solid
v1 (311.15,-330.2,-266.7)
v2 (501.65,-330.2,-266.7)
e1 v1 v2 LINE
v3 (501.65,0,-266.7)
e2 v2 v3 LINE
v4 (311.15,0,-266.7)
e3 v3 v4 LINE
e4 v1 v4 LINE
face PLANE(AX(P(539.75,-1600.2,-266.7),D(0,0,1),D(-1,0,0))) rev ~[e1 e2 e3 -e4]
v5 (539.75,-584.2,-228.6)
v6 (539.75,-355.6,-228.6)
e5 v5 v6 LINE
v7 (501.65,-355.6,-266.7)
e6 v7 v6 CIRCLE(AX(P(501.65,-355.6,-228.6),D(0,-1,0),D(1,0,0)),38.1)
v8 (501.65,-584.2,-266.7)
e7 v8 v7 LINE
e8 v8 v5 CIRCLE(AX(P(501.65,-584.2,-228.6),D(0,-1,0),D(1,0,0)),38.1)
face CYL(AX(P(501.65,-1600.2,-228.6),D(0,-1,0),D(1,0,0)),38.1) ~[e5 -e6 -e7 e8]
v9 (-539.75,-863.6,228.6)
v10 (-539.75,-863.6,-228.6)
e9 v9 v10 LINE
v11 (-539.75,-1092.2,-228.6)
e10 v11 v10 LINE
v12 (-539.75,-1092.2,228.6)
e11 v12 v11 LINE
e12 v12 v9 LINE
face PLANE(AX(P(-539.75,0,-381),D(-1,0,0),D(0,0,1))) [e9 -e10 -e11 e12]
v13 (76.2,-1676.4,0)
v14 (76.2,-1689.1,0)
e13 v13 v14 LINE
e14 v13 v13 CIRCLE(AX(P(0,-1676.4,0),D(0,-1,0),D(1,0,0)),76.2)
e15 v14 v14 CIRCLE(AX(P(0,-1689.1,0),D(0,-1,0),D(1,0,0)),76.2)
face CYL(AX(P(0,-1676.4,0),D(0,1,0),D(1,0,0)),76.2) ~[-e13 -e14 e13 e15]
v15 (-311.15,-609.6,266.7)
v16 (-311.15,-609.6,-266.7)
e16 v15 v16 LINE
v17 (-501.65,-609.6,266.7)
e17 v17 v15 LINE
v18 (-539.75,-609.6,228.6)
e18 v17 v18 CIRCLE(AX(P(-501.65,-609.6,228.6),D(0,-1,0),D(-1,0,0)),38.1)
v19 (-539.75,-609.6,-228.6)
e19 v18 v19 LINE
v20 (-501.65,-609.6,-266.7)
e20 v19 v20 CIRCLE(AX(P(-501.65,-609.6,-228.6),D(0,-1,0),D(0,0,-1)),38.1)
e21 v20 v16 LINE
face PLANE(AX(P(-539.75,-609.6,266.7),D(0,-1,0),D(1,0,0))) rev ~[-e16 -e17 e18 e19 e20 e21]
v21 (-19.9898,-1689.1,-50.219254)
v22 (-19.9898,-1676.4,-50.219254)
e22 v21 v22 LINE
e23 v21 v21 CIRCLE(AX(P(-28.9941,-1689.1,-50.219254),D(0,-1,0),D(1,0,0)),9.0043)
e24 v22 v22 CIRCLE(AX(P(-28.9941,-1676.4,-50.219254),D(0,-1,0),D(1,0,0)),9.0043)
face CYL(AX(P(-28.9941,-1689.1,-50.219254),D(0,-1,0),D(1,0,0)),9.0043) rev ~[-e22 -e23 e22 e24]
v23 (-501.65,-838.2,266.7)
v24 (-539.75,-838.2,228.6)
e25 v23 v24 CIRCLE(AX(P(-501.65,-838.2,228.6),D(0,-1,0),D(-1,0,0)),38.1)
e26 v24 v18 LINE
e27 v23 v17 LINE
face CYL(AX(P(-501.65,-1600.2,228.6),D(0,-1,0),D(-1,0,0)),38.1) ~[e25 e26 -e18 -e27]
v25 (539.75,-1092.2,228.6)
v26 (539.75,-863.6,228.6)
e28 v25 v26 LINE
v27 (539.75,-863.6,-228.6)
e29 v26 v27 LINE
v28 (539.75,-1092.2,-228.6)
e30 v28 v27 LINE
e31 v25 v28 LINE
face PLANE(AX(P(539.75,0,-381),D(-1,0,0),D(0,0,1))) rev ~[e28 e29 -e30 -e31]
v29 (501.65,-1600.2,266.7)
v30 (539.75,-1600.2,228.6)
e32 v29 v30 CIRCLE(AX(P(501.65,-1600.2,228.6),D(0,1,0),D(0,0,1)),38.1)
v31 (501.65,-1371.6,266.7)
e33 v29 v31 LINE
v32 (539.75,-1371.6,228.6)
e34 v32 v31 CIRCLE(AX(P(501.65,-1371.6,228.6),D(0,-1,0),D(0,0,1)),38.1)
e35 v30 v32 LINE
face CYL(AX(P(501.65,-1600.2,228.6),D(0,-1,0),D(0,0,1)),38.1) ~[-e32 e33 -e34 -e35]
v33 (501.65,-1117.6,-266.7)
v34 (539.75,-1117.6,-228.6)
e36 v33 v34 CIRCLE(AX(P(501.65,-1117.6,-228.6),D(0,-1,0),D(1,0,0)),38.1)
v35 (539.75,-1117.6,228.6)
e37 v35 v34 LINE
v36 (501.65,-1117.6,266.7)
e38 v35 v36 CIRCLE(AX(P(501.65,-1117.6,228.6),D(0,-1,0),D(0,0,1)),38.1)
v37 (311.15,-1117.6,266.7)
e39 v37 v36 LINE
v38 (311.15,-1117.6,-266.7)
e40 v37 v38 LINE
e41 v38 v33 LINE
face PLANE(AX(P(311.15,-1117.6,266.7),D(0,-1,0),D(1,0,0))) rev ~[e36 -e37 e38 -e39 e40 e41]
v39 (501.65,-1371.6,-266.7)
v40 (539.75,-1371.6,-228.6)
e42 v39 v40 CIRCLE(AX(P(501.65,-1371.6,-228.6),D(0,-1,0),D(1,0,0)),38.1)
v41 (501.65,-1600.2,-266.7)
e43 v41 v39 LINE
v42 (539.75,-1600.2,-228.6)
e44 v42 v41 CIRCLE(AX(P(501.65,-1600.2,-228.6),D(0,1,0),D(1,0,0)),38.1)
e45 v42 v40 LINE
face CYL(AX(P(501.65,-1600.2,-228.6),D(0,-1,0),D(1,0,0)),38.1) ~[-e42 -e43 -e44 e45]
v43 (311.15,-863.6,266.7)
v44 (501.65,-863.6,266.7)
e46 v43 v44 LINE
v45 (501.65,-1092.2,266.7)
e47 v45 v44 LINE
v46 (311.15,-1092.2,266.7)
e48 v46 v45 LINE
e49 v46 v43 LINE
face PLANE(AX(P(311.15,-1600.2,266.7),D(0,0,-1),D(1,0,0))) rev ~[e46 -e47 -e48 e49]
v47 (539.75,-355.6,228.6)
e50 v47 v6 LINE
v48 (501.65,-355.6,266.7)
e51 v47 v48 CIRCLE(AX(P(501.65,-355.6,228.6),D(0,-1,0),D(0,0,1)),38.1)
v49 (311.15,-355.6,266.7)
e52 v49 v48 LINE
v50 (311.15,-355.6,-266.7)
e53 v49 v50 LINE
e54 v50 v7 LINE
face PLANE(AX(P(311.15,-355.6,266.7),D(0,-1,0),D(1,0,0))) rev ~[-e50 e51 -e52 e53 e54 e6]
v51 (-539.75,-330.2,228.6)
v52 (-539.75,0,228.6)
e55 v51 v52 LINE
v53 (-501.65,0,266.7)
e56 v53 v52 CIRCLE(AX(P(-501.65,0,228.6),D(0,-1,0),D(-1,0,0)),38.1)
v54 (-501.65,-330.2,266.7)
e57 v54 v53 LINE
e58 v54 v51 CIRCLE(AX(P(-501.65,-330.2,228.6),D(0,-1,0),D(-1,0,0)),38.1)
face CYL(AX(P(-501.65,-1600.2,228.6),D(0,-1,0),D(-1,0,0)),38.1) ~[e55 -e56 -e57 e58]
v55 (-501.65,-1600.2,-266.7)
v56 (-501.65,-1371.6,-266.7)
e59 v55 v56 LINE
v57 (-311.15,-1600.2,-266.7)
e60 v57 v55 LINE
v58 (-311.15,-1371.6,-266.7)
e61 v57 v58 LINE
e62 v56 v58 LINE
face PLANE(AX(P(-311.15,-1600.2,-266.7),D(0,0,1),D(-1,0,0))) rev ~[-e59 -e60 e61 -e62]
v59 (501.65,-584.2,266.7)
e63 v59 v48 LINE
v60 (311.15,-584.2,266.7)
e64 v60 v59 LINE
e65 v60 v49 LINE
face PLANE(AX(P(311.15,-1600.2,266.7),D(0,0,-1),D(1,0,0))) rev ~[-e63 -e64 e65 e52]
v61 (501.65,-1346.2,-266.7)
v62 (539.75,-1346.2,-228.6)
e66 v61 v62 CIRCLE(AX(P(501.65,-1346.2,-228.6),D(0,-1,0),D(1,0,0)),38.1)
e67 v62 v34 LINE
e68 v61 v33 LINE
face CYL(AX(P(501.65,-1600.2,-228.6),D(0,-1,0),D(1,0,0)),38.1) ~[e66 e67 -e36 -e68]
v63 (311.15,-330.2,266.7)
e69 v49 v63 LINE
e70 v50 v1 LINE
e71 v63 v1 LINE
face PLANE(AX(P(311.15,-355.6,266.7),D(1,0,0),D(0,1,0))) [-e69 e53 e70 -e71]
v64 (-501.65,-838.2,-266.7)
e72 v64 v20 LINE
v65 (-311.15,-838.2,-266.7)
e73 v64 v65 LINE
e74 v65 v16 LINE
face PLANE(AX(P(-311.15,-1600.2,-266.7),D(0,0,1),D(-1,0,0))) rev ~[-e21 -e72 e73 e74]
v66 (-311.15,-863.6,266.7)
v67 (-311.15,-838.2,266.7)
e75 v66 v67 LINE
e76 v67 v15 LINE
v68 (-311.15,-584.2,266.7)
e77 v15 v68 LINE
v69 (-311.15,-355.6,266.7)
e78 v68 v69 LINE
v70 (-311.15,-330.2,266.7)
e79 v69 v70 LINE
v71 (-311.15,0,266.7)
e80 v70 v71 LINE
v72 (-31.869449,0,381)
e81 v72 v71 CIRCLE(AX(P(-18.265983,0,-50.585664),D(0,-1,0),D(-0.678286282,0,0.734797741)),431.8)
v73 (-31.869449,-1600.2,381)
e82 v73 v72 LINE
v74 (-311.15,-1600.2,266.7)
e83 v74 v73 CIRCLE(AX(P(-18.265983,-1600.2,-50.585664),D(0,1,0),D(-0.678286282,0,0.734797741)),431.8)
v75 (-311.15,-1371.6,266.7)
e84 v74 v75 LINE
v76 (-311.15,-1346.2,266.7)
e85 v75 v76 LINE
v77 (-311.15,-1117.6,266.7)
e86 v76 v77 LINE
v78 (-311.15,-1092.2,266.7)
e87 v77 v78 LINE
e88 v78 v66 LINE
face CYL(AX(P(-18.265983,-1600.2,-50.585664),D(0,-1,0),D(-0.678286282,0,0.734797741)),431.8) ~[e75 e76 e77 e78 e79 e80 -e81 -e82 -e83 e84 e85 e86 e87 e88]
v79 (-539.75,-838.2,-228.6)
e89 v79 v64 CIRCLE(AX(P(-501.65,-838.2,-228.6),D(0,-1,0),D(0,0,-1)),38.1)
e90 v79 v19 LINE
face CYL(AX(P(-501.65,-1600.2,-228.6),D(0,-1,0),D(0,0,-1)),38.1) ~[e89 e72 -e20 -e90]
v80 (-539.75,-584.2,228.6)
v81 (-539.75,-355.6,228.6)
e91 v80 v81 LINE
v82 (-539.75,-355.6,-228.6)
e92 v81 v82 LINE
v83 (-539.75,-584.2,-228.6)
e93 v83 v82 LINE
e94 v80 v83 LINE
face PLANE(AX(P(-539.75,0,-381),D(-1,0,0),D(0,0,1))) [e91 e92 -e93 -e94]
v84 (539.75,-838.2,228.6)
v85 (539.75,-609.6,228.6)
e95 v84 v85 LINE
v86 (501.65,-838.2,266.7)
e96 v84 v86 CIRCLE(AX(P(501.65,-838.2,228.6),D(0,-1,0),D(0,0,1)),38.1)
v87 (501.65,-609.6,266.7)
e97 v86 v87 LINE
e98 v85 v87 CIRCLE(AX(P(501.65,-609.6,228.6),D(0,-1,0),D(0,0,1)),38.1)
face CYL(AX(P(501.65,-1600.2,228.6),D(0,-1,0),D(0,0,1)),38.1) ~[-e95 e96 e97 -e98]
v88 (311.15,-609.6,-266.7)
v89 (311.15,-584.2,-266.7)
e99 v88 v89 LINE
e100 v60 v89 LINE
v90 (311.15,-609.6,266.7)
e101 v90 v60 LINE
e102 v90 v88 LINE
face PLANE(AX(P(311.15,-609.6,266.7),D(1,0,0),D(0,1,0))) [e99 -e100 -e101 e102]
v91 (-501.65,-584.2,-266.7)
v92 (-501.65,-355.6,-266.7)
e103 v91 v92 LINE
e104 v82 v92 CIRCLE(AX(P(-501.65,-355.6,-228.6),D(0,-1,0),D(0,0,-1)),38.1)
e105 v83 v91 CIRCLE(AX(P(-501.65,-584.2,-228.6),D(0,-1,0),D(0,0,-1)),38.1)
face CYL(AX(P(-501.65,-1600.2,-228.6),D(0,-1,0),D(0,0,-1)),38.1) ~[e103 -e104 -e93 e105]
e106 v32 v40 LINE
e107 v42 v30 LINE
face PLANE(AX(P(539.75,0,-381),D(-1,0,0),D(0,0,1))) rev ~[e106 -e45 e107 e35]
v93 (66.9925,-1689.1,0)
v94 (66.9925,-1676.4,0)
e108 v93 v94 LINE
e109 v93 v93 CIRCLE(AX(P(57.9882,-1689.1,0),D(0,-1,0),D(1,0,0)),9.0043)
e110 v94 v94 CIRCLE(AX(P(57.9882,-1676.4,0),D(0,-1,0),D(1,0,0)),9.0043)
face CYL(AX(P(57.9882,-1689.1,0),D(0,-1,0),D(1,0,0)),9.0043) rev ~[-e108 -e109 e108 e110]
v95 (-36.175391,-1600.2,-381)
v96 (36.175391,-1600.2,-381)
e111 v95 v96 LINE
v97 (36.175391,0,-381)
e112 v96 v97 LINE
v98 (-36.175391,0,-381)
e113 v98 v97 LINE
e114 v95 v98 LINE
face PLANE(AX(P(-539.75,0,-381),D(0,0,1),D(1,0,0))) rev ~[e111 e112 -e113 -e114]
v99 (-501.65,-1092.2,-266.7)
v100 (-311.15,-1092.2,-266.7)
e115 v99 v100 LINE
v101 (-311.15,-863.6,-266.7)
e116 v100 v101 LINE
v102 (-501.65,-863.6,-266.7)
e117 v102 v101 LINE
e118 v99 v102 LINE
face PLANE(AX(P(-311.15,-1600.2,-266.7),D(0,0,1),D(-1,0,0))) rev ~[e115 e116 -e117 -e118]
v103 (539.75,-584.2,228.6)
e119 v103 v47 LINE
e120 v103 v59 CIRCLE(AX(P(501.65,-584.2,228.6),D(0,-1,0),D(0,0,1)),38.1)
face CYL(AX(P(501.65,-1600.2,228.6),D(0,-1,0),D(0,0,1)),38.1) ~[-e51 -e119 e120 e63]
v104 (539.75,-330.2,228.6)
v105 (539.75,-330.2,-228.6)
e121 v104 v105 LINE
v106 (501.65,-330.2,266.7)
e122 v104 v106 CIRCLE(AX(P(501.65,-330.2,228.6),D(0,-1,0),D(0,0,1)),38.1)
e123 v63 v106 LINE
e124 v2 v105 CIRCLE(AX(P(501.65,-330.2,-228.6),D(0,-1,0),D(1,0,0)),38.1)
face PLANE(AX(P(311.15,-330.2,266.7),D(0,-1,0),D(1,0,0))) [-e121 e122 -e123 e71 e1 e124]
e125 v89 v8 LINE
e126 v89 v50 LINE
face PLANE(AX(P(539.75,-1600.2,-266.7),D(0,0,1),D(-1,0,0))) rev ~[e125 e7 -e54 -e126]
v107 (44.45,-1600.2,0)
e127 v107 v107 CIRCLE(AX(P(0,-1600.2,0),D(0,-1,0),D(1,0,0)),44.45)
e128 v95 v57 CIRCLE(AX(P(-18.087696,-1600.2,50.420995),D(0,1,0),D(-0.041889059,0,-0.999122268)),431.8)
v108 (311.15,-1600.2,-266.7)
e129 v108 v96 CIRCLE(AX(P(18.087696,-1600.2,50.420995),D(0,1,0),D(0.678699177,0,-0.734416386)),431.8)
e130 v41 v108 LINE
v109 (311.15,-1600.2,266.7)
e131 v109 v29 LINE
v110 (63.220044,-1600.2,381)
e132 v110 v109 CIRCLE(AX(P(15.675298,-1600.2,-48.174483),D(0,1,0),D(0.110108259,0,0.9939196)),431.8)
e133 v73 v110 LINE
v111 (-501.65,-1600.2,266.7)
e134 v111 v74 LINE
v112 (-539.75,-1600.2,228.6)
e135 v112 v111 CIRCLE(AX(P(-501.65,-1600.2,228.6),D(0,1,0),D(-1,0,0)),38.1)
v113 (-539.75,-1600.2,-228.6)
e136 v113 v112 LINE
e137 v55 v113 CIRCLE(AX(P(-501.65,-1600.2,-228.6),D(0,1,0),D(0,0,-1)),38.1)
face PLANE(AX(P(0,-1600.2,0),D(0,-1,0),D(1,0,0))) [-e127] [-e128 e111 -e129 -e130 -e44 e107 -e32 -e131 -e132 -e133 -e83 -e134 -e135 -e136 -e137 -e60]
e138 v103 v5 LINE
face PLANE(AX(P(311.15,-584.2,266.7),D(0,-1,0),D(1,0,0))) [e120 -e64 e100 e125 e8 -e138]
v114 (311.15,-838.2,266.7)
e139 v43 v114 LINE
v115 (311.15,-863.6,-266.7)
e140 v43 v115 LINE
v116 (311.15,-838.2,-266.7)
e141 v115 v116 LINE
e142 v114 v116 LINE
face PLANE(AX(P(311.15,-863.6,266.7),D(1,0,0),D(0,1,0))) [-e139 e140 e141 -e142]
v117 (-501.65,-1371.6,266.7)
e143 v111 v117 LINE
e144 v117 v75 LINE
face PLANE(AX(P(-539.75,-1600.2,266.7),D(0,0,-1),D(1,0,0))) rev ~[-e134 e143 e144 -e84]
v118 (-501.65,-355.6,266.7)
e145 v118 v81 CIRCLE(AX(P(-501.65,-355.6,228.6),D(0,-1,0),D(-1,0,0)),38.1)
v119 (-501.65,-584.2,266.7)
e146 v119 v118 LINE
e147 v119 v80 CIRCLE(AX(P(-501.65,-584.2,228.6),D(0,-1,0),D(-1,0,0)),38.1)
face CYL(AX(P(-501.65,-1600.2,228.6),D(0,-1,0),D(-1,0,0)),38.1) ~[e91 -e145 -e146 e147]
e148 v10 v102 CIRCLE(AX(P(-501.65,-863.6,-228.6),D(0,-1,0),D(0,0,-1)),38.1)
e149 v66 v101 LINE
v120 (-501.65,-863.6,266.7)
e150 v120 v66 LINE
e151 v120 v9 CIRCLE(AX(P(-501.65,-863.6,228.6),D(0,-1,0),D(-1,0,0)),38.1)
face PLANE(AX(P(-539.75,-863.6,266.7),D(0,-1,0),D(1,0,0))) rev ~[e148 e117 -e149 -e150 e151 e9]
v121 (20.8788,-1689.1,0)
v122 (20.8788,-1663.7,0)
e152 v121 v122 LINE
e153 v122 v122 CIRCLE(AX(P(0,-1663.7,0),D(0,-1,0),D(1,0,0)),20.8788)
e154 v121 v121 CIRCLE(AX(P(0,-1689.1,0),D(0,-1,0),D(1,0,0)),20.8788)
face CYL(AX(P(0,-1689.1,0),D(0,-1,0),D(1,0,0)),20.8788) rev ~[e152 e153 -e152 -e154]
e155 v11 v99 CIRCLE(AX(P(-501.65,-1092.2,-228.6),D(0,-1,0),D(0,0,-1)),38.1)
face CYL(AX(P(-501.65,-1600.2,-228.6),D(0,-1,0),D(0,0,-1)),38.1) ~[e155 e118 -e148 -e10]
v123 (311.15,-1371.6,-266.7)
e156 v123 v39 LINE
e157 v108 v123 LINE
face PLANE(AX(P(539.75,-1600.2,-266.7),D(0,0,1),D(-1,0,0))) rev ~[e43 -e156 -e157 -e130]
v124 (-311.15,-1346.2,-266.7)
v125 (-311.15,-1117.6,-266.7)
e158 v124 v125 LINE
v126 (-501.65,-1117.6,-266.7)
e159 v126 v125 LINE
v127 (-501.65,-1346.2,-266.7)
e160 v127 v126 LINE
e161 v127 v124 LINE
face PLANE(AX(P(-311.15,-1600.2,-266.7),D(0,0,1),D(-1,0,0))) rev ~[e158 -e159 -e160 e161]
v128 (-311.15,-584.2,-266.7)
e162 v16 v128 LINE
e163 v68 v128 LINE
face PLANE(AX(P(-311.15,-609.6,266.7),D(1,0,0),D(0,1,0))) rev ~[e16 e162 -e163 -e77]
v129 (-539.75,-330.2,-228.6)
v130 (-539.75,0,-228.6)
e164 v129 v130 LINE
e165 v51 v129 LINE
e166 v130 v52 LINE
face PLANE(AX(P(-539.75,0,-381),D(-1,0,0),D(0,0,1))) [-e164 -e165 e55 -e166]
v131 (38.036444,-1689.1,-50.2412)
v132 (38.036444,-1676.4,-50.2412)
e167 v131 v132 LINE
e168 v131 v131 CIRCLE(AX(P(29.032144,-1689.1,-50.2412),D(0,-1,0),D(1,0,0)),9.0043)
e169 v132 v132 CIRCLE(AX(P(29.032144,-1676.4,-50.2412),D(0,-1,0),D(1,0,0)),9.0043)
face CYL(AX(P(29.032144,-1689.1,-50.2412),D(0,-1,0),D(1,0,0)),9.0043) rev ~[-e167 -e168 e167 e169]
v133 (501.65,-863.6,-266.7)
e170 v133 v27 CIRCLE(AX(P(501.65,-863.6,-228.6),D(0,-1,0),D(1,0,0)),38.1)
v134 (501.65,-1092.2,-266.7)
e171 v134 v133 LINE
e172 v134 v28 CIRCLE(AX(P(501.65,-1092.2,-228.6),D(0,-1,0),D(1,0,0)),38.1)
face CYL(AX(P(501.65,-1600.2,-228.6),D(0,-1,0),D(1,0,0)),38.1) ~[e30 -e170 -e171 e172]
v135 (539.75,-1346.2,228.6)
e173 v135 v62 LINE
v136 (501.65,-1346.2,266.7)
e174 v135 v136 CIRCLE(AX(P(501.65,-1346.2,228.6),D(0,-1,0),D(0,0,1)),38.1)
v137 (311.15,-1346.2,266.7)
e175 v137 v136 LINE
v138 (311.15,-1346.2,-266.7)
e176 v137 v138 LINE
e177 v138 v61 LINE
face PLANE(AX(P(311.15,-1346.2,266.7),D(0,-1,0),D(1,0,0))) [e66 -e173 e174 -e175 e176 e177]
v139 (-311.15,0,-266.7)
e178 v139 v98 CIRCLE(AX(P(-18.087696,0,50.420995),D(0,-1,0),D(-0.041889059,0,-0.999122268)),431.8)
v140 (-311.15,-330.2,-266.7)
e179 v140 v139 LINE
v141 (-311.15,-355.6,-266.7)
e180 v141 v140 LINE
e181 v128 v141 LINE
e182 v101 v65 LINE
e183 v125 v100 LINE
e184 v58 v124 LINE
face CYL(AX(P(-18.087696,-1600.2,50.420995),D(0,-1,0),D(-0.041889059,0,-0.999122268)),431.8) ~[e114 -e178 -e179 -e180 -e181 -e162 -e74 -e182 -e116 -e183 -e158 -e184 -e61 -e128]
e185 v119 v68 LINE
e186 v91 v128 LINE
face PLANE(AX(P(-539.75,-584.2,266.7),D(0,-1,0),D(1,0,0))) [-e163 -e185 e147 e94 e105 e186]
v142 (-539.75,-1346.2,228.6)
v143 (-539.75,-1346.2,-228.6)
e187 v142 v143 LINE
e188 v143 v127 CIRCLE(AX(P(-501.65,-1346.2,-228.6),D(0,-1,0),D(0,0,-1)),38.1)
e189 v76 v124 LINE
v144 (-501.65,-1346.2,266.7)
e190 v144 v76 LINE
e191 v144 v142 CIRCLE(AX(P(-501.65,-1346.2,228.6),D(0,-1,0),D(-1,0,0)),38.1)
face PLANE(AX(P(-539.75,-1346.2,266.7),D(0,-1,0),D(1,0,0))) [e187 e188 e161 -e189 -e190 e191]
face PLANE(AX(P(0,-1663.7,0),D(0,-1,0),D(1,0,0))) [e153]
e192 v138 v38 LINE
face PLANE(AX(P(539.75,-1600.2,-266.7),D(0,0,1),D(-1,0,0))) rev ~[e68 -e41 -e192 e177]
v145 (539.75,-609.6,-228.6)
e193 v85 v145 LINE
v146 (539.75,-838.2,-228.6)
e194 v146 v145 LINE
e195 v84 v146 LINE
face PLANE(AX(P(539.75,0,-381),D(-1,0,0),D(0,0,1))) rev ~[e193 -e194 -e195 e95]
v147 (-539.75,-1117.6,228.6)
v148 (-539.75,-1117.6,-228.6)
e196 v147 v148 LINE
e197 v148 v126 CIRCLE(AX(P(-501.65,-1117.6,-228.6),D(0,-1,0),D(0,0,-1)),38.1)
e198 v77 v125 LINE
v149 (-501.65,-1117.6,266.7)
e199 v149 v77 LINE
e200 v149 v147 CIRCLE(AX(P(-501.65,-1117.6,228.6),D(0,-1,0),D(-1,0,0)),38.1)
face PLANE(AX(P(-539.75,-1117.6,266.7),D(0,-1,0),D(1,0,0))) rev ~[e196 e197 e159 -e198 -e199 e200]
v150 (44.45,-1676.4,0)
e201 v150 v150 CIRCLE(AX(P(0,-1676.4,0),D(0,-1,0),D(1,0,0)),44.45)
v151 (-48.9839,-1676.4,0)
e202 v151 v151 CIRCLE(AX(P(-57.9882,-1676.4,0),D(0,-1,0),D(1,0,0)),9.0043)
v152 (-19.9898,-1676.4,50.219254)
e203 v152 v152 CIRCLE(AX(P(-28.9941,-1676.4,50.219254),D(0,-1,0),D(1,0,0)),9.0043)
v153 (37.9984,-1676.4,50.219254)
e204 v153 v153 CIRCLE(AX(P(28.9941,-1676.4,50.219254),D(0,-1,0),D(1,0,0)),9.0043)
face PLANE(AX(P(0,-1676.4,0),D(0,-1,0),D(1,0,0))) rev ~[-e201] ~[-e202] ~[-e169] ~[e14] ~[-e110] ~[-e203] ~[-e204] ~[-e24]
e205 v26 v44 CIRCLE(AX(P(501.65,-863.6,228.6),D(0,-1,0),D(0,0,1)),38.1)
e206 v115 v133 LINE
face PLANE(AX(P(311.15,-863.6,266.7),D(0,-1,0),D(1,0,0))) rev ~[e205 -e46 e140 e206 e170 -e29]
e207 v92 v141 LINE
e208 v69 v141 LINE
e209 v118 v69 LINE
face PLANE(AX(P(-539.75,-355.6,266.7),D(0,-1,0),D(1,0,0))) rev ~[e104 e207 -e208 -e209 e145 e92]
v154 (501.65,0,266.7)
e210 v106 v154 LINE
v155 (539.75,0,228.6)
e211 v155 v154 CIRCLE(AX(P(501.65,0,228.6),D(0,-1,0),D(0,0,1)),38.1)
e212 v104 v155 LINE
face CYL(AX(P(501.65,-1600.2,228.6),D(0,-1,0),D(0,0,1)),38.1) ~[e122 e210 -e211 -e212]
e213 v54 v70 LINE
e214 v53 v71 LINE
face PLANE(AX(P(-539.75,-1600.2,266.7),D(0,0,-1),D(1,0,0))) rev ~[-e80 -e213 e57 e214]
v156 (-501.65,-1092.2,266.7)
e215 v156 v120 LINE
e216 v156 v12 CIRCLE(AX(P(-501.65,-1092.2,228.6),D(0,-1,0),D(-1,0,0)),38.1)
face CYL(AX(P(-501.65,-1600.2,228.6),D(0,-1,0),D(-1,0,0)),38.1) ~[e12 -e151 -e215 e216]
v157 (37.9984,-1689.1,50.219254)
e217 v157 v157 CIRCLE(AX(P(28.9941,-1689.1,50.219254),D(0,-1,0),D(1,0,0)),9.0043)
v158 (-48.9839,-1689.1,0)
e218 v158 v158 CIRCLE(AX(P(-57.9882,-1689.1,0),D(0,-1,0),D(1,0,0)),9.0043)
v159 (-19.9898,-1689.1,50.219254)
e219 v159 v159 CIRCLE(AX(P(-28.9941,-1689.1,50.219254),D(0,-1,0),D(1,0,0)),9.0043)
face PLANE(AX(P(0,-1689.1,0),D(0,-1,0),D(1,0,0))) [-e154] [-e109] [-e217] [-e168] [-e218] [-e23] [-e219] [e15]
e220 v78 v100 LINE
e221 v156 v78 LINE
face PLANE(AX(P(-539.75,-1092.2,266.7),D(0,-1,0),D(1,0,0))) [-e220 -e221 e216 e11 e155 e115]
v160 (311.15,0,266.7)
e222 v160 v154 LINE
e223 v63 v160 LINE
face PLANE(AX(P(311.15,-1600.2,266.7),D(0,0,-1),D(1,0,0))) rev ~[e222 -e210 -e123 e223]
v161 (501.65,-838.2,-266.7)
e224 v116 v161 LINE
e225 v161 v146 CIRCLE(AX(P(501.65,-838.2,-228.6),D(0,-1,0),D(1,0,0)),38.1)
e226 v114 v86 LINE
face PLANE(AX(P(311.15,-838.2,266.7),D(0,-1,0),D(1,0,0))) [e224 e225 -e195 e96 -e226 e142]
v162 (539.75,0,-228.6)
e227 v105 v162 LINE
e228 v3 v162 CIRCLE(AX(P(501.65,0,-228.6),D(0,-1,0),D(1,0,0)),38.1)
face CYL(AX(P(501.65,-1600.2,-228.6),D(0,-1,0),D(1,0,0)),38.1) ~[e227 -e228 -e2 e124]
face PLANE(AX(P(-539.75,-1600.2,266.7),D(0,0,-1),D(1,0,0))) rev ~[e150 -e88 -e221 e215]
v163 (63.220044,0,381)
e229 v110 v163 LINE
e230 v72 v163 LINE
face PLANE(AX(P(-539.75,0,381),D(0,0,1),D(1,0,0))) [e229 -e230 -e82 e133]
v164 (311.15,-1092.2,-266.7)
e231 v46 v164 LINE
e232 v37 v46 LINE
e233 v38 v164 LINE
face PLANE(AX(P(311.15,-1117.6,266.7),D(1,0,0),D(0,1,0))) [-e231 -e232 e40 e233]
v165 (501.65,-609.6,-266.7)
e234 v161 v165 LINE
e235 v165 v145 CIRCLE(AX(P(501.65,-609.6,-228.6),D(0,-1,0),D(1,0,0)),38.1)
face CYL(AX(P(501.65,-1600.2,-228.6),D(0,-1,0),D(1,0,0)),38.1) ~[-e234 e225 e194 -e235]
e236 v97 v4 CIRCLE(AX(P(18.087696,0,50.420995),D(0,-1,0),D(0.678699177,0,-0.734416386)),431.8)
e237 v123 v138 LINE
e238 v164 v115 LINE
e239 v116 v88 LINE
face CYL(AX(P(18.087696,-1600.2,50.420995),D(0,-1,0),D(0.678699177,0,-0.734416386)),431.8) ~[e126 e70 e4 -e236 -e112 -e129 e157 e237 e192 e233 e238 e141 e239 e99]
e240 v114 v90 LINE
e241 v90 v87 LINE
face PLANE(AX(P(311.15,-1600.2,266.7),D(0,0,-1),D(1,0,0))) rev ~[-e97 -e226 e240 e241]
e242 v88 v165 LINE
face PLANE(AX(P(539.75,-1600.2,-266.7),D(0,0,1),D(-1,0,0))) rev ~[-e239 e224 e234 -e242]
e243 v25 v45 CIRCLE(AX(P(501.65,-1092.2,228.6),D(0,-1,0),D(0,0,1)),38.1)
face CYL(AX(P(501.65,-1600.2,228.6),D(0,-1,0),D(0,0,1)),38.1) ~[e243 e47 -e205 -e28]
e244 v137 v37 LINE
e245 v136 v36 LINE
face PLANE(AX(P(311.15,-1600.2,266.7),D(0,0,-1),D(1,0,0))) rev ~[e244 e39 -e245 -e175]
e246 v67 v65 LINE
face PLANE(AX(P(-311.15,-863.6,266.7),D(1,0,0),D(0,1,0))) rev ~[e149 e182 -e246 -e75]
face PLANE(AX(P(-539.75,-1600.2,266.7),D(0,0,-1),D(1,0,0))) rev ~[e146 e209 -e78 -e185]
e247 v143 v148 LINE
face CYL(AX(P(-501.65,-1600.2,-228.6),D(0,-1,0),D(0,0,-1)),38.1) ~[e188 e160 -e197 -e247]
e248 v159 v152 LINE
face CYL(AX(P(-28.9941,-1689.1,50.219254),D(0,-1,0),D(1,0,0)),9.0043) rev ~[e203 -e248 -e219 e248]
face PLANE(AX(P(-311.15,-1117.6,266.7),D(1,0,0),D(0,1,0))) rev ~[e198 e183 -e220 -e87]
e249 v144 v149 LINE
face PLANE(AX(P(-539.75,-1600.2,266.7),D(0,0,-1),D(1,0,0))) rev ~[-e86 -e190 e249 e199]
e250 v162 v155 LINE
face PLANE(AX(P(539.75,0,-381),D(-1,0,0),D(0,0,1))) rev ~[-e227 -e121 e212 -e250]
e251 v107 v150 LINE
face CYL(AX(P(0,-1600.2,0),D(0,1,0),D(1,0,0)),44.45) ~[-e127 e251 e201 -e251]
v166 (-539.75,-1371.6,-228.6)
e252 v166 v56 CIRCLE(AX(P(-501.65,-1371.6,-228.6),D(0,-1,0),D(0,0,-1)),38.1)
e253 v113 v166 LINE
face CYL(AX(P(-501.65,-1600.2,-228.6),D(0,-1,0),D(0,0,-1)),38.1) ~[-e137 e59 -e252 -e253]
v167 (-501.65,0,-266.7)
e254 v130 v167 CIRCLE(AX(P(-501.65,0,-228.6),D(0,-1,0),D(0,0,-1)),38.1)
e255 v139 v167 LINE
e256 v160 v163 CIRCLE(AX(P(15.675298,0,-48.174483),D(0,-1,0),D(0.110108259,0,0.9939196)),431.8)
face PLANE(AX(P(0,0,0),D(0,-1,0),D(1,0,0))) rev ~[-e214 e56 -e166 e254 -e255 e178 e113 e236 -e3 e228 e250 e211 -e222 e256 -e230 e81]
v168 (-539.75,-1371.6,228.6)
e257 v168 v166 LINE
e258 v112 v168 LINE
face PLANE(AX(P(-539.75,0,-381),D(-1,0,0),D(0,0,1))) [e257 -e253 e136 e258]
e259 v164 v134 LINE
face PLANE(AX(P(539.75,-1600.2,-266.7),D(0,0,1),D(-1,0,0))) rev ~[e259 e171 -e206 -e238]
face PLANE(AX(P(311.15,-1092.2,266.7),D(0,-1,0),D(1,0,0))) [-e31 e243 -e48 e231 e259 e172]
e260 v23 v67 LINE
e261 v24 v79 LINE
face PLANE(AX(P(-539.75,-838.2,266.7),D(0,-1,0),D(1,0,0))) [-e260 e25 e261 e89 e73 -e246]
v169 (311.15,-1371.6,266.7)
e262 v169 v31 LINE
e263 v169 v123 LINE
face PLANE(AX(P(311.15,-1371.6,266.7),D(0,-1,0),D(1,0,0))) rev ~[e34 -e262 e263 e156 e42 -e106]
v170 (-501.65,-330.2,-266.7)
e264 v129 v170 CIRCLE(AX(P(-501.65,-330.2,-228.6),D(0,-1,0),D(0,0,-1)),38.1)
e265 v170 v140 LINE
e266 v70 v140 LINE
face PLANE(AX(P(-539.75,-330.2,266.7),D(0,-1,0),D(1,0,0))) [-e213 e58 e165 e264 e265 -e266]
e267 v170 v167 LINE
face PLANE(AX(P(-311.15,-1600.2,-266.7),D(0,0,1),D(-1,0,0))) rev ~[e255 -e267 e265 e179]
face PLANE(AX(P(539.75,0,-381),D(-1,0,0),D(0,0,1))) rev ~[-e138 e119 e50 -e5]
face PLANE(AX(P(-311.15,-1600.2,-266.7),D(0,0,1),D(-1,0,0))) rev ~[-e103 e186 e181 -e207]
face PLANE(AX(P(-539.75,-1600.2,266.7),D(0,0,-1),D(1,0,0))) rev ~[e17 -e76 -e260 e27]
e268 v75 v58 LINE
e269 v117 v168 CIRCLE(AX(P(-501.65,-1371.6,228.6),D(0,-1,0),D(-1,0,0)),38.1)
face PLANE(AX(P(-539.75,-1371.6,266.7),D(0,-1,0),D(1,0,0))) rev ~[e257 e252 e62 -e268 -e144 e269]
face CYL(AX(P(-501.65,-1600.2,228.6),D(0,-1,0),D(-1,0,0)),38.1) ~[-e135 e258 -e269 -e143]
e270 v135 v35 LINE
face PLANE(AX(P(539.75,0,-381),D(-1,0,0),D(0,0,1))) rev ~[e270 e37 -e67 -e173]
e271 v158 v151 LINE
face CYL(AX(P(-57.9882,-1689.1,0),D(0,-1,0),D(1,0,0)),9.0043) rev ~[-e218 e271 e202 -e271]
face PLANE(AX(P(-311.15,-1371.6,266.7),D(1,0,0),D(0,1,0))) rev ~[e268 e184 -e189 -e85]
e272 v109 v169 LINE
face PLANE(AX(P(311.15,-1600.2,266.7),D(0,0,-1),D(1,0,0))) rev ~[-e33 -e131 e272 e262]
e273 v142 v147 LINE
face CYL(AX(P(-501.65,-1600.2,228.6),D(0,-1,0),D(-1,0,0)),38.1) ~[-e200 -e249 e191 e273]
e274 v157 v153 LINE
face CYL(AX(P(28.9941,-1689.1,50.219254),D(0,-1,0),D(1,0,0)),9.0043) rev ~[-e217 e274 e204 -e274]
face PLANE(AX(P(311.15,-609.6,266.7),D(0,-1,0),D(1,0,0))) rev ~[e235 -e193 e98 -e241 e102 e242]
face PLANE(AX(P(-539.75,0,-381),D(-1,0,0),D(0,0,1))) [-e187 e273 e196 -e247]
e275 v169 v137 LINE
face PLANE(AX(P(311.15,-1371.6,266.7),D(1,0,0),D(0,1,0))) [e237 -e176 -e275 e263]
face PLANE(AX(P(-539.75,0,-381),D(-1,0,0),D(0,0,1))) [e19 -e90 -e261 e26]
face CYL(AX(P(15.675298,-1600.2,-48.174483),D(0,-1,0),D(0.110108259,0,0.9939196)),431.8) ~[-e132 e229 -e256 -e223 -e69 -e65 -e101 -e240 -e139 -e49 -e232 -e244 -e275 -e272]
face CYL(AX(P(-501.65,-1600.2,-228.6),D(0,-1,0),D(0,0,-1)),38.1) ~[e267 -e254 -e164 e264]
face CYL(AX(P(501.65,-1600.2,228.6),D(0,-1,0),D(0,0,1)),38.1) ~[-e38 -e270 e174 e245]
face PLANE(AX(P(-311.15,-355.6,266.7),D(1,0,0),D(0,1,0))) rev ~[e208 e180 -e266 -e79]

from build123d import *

# Parameters (mm, degrees)
F0_W      = 1079.5
F0_H      = 762
F1_DEPTH  = 1600.2
F3_DEPTH  = 2032
F4_W      = 228.6
F4_H      = 25.4
F5_DEPTH  = 889
F6_W      = 228.6
F6_H      = 25.4
F7_DEPTH  = 762
F9_DEPTH  = 2032
F10_R     = 44.45
F11_DEPTH = 76.2
F12_R     = 76.2
F12_R_2   = 44.45
F13_DEPTH = 12.7
F14_R     = 9.0043
F14_R_2   = 20.8788
F15_DEPTH = 25.4


with BuildPart() as f1:
    # F0 (on Front) → F1 (new body)
    with BuildSketch(Plane.XZ):
        Rectangle(F0_W, F0_H)
    extrude(amount=F1_DEPTH)

    # F2 (on face) → F3 (cut)
    with BuildSketch(Plane.XZ.offset(1600.2)):
        with BuildLine():
            Line((-539.75, 381), (-539.75, 266.7))
            Line((-539.75, 266.7), (-311.15, 266.7))
            ThreePointArc((-311.15, 266.7), (-181.819542348, 349.0410030714), (-31.8694487214, 381))
            Line((-31.8694487214, 381), (-539.75, 381))
        make_face()
        with BuildLine():
            Line((539.75, 381), (63.2200438553, 381))
            ThreePointArc((63.2200438553, 381), (196.4561263356, 343.9601006936), (311.15, 266.7))
            Line((311.15, 266.7), (539.75, 266.7))
            Line((539.75, 266.7), (539.75, 381))
        make_face()
        with BuildLine():
            ThreePointArc((311.15, -266.7), (183.8275613975, -348.3038933111), (36.1753911372, -381))
            Line((36.1753911372, -381), (539.75, -381))
            Line((539.75, -381), (539.75, -266.7))
            Line((539.75, -266.7), (311.15, -266.7))
        make_face()
        with BuildLine():
            Line((-311.15, -266.7), (-539.75, -266.7))
            Line((-539.75, -266.7), (-539.75, -381))
            Line((-539.75, -381), (-36.1753911372, -381))
            ThreePointArc((-36.1753911372, -381), (-183.8275613975, -348.3038933111), (-311.15, -266.7))
        make_face()
    extrude(amount=-F3_DEPTH, mode=Mode.SUBTRACT)

    # F4 (on face) → F5 (cut)
    with BuildSketch(Plane.XY.offset(266.7)):
        with Locations((-425.45, -1358.9)):
            Rectangle(F4_W, F4_H)
        with Locations((-425.45, -1104.9)):
            Rectangle(F4_W, F4_H)
        with Locations((-425.45, -850.9)):
            Rectangle(F4_W, F4_H)
        with Locations((-425.45, -596.9)):
            Rectangle(F4_W, F4_H)
        with Locations((-425.45, -342.9)):
            Rectangle(F4_W, F4_H)
    extrude(amount=-F5_DEPTH, mode=Mode.SUBTRACT)

    # F6 (on face) → F7 (cut)
    with BuildSketch(Plane.XY.offset(266.7)):
        with Locations((425.45, -1358.9)):
            Rectangle(F6_W, F6_H)
        with Locations((425.45, -1104.9)):
            Rectangle(F6_W, F6_H)
        with Locations((425.45, -850.9)):
            Rectangle(F6_W, F6_H)
        with Locations((425.45, -596.9)):
            Rectangle(F6_W, F6_H)
        with Locations((425.45, -342.9)):
            Rectangle(F6_W, F6_H)
    extrude(amount=-F7_DEPTH, mode=Mode.SUBTRACT)

    # F8 (on face) → F9 (cut)
    with BuildSketch(Plane.XZ.offset(1600.2)):
        with BuildLine():
            ThreePointArc((-539.75, 228.6), (-528.5907683632, 255.5407683632), (-501.65, 266.7))
            Line((-501.65, 266.7), (-539.75, 266.7))
            Line((-539.75, 266.7), (-539.75, 228.6))
        make_face()
        with BuildLine():
            ThreePointArc((-501.65, -266.7), (-528.5907683632, -255.5407683632), (-539.75, -228.6))
            Line((-539.75, -228.6), (-539.75, -266.7))
            Line((-539.75, -266.7), (-501.65, -266.7))
        make_face()
        with BuildLine():
            Line((539.75, -266.7), (539.75, -228.6))
            ThreePointArc((539.75, -228.6), (528.5907683632, -255.5407683632), (501.65, -266.7))
            Line((501.65, -266.7), (539.75, -266.7))
        make_face()
        with BuildLine():
            Line((539.75, 266.7), (501.65, 266.7))
            ThreePointArc((501.65, 266.7), (528.5907683632, 255.5407683632), (539.75, 228.6))
            Line((539.75, 228.6), (539.75, 266.7))
        make_face()
    extrude(amount=-F9_DEPTH, mode=Mode.SUBTRACT)

    # F10 (on face) → F11 (join)
    with BuildSketch(Plane.XZ.offset(1600.2)):
        Circle(F10_R)
    extrude(amount=F11_DEPTH)

    # F12 (on face) → F13 (join)
    with BuildSketch(Plane.XZ.offset(1676.4)):
        Circle(F12_R)
        Circle(F12_R_2, mode=Mode.SUBTRACT)
        Circle(F12_R_2)
    extrude(amount=F13_DEPTH)

    # F14 (on face) → F15 (cut)
    with BuildSketch(Plane.XZ.offset(1689.1)):
        with Locations((-28.9941, 50.2192543197)):
            Circle(F14_R)
        with Locations((-57.9882, 0)):
            Circle(F14_R)
        with Locations((-28.9941, -50.2192543197)):
            Circle(F14_R)
        with Locations((29.0321442983, -50.2412)):
            Circle(F14_R)
        with Locations((57.9882, 0)):
            Circle(F14_R)
        with Locations((28.9941, 50.2192543197)):
            Circle(F14_R)
        Circle(F14_R_2)
    extrude(amount=-F15_DEPTH, mode=Mode.SUBTRACT)


solid = f1.part
